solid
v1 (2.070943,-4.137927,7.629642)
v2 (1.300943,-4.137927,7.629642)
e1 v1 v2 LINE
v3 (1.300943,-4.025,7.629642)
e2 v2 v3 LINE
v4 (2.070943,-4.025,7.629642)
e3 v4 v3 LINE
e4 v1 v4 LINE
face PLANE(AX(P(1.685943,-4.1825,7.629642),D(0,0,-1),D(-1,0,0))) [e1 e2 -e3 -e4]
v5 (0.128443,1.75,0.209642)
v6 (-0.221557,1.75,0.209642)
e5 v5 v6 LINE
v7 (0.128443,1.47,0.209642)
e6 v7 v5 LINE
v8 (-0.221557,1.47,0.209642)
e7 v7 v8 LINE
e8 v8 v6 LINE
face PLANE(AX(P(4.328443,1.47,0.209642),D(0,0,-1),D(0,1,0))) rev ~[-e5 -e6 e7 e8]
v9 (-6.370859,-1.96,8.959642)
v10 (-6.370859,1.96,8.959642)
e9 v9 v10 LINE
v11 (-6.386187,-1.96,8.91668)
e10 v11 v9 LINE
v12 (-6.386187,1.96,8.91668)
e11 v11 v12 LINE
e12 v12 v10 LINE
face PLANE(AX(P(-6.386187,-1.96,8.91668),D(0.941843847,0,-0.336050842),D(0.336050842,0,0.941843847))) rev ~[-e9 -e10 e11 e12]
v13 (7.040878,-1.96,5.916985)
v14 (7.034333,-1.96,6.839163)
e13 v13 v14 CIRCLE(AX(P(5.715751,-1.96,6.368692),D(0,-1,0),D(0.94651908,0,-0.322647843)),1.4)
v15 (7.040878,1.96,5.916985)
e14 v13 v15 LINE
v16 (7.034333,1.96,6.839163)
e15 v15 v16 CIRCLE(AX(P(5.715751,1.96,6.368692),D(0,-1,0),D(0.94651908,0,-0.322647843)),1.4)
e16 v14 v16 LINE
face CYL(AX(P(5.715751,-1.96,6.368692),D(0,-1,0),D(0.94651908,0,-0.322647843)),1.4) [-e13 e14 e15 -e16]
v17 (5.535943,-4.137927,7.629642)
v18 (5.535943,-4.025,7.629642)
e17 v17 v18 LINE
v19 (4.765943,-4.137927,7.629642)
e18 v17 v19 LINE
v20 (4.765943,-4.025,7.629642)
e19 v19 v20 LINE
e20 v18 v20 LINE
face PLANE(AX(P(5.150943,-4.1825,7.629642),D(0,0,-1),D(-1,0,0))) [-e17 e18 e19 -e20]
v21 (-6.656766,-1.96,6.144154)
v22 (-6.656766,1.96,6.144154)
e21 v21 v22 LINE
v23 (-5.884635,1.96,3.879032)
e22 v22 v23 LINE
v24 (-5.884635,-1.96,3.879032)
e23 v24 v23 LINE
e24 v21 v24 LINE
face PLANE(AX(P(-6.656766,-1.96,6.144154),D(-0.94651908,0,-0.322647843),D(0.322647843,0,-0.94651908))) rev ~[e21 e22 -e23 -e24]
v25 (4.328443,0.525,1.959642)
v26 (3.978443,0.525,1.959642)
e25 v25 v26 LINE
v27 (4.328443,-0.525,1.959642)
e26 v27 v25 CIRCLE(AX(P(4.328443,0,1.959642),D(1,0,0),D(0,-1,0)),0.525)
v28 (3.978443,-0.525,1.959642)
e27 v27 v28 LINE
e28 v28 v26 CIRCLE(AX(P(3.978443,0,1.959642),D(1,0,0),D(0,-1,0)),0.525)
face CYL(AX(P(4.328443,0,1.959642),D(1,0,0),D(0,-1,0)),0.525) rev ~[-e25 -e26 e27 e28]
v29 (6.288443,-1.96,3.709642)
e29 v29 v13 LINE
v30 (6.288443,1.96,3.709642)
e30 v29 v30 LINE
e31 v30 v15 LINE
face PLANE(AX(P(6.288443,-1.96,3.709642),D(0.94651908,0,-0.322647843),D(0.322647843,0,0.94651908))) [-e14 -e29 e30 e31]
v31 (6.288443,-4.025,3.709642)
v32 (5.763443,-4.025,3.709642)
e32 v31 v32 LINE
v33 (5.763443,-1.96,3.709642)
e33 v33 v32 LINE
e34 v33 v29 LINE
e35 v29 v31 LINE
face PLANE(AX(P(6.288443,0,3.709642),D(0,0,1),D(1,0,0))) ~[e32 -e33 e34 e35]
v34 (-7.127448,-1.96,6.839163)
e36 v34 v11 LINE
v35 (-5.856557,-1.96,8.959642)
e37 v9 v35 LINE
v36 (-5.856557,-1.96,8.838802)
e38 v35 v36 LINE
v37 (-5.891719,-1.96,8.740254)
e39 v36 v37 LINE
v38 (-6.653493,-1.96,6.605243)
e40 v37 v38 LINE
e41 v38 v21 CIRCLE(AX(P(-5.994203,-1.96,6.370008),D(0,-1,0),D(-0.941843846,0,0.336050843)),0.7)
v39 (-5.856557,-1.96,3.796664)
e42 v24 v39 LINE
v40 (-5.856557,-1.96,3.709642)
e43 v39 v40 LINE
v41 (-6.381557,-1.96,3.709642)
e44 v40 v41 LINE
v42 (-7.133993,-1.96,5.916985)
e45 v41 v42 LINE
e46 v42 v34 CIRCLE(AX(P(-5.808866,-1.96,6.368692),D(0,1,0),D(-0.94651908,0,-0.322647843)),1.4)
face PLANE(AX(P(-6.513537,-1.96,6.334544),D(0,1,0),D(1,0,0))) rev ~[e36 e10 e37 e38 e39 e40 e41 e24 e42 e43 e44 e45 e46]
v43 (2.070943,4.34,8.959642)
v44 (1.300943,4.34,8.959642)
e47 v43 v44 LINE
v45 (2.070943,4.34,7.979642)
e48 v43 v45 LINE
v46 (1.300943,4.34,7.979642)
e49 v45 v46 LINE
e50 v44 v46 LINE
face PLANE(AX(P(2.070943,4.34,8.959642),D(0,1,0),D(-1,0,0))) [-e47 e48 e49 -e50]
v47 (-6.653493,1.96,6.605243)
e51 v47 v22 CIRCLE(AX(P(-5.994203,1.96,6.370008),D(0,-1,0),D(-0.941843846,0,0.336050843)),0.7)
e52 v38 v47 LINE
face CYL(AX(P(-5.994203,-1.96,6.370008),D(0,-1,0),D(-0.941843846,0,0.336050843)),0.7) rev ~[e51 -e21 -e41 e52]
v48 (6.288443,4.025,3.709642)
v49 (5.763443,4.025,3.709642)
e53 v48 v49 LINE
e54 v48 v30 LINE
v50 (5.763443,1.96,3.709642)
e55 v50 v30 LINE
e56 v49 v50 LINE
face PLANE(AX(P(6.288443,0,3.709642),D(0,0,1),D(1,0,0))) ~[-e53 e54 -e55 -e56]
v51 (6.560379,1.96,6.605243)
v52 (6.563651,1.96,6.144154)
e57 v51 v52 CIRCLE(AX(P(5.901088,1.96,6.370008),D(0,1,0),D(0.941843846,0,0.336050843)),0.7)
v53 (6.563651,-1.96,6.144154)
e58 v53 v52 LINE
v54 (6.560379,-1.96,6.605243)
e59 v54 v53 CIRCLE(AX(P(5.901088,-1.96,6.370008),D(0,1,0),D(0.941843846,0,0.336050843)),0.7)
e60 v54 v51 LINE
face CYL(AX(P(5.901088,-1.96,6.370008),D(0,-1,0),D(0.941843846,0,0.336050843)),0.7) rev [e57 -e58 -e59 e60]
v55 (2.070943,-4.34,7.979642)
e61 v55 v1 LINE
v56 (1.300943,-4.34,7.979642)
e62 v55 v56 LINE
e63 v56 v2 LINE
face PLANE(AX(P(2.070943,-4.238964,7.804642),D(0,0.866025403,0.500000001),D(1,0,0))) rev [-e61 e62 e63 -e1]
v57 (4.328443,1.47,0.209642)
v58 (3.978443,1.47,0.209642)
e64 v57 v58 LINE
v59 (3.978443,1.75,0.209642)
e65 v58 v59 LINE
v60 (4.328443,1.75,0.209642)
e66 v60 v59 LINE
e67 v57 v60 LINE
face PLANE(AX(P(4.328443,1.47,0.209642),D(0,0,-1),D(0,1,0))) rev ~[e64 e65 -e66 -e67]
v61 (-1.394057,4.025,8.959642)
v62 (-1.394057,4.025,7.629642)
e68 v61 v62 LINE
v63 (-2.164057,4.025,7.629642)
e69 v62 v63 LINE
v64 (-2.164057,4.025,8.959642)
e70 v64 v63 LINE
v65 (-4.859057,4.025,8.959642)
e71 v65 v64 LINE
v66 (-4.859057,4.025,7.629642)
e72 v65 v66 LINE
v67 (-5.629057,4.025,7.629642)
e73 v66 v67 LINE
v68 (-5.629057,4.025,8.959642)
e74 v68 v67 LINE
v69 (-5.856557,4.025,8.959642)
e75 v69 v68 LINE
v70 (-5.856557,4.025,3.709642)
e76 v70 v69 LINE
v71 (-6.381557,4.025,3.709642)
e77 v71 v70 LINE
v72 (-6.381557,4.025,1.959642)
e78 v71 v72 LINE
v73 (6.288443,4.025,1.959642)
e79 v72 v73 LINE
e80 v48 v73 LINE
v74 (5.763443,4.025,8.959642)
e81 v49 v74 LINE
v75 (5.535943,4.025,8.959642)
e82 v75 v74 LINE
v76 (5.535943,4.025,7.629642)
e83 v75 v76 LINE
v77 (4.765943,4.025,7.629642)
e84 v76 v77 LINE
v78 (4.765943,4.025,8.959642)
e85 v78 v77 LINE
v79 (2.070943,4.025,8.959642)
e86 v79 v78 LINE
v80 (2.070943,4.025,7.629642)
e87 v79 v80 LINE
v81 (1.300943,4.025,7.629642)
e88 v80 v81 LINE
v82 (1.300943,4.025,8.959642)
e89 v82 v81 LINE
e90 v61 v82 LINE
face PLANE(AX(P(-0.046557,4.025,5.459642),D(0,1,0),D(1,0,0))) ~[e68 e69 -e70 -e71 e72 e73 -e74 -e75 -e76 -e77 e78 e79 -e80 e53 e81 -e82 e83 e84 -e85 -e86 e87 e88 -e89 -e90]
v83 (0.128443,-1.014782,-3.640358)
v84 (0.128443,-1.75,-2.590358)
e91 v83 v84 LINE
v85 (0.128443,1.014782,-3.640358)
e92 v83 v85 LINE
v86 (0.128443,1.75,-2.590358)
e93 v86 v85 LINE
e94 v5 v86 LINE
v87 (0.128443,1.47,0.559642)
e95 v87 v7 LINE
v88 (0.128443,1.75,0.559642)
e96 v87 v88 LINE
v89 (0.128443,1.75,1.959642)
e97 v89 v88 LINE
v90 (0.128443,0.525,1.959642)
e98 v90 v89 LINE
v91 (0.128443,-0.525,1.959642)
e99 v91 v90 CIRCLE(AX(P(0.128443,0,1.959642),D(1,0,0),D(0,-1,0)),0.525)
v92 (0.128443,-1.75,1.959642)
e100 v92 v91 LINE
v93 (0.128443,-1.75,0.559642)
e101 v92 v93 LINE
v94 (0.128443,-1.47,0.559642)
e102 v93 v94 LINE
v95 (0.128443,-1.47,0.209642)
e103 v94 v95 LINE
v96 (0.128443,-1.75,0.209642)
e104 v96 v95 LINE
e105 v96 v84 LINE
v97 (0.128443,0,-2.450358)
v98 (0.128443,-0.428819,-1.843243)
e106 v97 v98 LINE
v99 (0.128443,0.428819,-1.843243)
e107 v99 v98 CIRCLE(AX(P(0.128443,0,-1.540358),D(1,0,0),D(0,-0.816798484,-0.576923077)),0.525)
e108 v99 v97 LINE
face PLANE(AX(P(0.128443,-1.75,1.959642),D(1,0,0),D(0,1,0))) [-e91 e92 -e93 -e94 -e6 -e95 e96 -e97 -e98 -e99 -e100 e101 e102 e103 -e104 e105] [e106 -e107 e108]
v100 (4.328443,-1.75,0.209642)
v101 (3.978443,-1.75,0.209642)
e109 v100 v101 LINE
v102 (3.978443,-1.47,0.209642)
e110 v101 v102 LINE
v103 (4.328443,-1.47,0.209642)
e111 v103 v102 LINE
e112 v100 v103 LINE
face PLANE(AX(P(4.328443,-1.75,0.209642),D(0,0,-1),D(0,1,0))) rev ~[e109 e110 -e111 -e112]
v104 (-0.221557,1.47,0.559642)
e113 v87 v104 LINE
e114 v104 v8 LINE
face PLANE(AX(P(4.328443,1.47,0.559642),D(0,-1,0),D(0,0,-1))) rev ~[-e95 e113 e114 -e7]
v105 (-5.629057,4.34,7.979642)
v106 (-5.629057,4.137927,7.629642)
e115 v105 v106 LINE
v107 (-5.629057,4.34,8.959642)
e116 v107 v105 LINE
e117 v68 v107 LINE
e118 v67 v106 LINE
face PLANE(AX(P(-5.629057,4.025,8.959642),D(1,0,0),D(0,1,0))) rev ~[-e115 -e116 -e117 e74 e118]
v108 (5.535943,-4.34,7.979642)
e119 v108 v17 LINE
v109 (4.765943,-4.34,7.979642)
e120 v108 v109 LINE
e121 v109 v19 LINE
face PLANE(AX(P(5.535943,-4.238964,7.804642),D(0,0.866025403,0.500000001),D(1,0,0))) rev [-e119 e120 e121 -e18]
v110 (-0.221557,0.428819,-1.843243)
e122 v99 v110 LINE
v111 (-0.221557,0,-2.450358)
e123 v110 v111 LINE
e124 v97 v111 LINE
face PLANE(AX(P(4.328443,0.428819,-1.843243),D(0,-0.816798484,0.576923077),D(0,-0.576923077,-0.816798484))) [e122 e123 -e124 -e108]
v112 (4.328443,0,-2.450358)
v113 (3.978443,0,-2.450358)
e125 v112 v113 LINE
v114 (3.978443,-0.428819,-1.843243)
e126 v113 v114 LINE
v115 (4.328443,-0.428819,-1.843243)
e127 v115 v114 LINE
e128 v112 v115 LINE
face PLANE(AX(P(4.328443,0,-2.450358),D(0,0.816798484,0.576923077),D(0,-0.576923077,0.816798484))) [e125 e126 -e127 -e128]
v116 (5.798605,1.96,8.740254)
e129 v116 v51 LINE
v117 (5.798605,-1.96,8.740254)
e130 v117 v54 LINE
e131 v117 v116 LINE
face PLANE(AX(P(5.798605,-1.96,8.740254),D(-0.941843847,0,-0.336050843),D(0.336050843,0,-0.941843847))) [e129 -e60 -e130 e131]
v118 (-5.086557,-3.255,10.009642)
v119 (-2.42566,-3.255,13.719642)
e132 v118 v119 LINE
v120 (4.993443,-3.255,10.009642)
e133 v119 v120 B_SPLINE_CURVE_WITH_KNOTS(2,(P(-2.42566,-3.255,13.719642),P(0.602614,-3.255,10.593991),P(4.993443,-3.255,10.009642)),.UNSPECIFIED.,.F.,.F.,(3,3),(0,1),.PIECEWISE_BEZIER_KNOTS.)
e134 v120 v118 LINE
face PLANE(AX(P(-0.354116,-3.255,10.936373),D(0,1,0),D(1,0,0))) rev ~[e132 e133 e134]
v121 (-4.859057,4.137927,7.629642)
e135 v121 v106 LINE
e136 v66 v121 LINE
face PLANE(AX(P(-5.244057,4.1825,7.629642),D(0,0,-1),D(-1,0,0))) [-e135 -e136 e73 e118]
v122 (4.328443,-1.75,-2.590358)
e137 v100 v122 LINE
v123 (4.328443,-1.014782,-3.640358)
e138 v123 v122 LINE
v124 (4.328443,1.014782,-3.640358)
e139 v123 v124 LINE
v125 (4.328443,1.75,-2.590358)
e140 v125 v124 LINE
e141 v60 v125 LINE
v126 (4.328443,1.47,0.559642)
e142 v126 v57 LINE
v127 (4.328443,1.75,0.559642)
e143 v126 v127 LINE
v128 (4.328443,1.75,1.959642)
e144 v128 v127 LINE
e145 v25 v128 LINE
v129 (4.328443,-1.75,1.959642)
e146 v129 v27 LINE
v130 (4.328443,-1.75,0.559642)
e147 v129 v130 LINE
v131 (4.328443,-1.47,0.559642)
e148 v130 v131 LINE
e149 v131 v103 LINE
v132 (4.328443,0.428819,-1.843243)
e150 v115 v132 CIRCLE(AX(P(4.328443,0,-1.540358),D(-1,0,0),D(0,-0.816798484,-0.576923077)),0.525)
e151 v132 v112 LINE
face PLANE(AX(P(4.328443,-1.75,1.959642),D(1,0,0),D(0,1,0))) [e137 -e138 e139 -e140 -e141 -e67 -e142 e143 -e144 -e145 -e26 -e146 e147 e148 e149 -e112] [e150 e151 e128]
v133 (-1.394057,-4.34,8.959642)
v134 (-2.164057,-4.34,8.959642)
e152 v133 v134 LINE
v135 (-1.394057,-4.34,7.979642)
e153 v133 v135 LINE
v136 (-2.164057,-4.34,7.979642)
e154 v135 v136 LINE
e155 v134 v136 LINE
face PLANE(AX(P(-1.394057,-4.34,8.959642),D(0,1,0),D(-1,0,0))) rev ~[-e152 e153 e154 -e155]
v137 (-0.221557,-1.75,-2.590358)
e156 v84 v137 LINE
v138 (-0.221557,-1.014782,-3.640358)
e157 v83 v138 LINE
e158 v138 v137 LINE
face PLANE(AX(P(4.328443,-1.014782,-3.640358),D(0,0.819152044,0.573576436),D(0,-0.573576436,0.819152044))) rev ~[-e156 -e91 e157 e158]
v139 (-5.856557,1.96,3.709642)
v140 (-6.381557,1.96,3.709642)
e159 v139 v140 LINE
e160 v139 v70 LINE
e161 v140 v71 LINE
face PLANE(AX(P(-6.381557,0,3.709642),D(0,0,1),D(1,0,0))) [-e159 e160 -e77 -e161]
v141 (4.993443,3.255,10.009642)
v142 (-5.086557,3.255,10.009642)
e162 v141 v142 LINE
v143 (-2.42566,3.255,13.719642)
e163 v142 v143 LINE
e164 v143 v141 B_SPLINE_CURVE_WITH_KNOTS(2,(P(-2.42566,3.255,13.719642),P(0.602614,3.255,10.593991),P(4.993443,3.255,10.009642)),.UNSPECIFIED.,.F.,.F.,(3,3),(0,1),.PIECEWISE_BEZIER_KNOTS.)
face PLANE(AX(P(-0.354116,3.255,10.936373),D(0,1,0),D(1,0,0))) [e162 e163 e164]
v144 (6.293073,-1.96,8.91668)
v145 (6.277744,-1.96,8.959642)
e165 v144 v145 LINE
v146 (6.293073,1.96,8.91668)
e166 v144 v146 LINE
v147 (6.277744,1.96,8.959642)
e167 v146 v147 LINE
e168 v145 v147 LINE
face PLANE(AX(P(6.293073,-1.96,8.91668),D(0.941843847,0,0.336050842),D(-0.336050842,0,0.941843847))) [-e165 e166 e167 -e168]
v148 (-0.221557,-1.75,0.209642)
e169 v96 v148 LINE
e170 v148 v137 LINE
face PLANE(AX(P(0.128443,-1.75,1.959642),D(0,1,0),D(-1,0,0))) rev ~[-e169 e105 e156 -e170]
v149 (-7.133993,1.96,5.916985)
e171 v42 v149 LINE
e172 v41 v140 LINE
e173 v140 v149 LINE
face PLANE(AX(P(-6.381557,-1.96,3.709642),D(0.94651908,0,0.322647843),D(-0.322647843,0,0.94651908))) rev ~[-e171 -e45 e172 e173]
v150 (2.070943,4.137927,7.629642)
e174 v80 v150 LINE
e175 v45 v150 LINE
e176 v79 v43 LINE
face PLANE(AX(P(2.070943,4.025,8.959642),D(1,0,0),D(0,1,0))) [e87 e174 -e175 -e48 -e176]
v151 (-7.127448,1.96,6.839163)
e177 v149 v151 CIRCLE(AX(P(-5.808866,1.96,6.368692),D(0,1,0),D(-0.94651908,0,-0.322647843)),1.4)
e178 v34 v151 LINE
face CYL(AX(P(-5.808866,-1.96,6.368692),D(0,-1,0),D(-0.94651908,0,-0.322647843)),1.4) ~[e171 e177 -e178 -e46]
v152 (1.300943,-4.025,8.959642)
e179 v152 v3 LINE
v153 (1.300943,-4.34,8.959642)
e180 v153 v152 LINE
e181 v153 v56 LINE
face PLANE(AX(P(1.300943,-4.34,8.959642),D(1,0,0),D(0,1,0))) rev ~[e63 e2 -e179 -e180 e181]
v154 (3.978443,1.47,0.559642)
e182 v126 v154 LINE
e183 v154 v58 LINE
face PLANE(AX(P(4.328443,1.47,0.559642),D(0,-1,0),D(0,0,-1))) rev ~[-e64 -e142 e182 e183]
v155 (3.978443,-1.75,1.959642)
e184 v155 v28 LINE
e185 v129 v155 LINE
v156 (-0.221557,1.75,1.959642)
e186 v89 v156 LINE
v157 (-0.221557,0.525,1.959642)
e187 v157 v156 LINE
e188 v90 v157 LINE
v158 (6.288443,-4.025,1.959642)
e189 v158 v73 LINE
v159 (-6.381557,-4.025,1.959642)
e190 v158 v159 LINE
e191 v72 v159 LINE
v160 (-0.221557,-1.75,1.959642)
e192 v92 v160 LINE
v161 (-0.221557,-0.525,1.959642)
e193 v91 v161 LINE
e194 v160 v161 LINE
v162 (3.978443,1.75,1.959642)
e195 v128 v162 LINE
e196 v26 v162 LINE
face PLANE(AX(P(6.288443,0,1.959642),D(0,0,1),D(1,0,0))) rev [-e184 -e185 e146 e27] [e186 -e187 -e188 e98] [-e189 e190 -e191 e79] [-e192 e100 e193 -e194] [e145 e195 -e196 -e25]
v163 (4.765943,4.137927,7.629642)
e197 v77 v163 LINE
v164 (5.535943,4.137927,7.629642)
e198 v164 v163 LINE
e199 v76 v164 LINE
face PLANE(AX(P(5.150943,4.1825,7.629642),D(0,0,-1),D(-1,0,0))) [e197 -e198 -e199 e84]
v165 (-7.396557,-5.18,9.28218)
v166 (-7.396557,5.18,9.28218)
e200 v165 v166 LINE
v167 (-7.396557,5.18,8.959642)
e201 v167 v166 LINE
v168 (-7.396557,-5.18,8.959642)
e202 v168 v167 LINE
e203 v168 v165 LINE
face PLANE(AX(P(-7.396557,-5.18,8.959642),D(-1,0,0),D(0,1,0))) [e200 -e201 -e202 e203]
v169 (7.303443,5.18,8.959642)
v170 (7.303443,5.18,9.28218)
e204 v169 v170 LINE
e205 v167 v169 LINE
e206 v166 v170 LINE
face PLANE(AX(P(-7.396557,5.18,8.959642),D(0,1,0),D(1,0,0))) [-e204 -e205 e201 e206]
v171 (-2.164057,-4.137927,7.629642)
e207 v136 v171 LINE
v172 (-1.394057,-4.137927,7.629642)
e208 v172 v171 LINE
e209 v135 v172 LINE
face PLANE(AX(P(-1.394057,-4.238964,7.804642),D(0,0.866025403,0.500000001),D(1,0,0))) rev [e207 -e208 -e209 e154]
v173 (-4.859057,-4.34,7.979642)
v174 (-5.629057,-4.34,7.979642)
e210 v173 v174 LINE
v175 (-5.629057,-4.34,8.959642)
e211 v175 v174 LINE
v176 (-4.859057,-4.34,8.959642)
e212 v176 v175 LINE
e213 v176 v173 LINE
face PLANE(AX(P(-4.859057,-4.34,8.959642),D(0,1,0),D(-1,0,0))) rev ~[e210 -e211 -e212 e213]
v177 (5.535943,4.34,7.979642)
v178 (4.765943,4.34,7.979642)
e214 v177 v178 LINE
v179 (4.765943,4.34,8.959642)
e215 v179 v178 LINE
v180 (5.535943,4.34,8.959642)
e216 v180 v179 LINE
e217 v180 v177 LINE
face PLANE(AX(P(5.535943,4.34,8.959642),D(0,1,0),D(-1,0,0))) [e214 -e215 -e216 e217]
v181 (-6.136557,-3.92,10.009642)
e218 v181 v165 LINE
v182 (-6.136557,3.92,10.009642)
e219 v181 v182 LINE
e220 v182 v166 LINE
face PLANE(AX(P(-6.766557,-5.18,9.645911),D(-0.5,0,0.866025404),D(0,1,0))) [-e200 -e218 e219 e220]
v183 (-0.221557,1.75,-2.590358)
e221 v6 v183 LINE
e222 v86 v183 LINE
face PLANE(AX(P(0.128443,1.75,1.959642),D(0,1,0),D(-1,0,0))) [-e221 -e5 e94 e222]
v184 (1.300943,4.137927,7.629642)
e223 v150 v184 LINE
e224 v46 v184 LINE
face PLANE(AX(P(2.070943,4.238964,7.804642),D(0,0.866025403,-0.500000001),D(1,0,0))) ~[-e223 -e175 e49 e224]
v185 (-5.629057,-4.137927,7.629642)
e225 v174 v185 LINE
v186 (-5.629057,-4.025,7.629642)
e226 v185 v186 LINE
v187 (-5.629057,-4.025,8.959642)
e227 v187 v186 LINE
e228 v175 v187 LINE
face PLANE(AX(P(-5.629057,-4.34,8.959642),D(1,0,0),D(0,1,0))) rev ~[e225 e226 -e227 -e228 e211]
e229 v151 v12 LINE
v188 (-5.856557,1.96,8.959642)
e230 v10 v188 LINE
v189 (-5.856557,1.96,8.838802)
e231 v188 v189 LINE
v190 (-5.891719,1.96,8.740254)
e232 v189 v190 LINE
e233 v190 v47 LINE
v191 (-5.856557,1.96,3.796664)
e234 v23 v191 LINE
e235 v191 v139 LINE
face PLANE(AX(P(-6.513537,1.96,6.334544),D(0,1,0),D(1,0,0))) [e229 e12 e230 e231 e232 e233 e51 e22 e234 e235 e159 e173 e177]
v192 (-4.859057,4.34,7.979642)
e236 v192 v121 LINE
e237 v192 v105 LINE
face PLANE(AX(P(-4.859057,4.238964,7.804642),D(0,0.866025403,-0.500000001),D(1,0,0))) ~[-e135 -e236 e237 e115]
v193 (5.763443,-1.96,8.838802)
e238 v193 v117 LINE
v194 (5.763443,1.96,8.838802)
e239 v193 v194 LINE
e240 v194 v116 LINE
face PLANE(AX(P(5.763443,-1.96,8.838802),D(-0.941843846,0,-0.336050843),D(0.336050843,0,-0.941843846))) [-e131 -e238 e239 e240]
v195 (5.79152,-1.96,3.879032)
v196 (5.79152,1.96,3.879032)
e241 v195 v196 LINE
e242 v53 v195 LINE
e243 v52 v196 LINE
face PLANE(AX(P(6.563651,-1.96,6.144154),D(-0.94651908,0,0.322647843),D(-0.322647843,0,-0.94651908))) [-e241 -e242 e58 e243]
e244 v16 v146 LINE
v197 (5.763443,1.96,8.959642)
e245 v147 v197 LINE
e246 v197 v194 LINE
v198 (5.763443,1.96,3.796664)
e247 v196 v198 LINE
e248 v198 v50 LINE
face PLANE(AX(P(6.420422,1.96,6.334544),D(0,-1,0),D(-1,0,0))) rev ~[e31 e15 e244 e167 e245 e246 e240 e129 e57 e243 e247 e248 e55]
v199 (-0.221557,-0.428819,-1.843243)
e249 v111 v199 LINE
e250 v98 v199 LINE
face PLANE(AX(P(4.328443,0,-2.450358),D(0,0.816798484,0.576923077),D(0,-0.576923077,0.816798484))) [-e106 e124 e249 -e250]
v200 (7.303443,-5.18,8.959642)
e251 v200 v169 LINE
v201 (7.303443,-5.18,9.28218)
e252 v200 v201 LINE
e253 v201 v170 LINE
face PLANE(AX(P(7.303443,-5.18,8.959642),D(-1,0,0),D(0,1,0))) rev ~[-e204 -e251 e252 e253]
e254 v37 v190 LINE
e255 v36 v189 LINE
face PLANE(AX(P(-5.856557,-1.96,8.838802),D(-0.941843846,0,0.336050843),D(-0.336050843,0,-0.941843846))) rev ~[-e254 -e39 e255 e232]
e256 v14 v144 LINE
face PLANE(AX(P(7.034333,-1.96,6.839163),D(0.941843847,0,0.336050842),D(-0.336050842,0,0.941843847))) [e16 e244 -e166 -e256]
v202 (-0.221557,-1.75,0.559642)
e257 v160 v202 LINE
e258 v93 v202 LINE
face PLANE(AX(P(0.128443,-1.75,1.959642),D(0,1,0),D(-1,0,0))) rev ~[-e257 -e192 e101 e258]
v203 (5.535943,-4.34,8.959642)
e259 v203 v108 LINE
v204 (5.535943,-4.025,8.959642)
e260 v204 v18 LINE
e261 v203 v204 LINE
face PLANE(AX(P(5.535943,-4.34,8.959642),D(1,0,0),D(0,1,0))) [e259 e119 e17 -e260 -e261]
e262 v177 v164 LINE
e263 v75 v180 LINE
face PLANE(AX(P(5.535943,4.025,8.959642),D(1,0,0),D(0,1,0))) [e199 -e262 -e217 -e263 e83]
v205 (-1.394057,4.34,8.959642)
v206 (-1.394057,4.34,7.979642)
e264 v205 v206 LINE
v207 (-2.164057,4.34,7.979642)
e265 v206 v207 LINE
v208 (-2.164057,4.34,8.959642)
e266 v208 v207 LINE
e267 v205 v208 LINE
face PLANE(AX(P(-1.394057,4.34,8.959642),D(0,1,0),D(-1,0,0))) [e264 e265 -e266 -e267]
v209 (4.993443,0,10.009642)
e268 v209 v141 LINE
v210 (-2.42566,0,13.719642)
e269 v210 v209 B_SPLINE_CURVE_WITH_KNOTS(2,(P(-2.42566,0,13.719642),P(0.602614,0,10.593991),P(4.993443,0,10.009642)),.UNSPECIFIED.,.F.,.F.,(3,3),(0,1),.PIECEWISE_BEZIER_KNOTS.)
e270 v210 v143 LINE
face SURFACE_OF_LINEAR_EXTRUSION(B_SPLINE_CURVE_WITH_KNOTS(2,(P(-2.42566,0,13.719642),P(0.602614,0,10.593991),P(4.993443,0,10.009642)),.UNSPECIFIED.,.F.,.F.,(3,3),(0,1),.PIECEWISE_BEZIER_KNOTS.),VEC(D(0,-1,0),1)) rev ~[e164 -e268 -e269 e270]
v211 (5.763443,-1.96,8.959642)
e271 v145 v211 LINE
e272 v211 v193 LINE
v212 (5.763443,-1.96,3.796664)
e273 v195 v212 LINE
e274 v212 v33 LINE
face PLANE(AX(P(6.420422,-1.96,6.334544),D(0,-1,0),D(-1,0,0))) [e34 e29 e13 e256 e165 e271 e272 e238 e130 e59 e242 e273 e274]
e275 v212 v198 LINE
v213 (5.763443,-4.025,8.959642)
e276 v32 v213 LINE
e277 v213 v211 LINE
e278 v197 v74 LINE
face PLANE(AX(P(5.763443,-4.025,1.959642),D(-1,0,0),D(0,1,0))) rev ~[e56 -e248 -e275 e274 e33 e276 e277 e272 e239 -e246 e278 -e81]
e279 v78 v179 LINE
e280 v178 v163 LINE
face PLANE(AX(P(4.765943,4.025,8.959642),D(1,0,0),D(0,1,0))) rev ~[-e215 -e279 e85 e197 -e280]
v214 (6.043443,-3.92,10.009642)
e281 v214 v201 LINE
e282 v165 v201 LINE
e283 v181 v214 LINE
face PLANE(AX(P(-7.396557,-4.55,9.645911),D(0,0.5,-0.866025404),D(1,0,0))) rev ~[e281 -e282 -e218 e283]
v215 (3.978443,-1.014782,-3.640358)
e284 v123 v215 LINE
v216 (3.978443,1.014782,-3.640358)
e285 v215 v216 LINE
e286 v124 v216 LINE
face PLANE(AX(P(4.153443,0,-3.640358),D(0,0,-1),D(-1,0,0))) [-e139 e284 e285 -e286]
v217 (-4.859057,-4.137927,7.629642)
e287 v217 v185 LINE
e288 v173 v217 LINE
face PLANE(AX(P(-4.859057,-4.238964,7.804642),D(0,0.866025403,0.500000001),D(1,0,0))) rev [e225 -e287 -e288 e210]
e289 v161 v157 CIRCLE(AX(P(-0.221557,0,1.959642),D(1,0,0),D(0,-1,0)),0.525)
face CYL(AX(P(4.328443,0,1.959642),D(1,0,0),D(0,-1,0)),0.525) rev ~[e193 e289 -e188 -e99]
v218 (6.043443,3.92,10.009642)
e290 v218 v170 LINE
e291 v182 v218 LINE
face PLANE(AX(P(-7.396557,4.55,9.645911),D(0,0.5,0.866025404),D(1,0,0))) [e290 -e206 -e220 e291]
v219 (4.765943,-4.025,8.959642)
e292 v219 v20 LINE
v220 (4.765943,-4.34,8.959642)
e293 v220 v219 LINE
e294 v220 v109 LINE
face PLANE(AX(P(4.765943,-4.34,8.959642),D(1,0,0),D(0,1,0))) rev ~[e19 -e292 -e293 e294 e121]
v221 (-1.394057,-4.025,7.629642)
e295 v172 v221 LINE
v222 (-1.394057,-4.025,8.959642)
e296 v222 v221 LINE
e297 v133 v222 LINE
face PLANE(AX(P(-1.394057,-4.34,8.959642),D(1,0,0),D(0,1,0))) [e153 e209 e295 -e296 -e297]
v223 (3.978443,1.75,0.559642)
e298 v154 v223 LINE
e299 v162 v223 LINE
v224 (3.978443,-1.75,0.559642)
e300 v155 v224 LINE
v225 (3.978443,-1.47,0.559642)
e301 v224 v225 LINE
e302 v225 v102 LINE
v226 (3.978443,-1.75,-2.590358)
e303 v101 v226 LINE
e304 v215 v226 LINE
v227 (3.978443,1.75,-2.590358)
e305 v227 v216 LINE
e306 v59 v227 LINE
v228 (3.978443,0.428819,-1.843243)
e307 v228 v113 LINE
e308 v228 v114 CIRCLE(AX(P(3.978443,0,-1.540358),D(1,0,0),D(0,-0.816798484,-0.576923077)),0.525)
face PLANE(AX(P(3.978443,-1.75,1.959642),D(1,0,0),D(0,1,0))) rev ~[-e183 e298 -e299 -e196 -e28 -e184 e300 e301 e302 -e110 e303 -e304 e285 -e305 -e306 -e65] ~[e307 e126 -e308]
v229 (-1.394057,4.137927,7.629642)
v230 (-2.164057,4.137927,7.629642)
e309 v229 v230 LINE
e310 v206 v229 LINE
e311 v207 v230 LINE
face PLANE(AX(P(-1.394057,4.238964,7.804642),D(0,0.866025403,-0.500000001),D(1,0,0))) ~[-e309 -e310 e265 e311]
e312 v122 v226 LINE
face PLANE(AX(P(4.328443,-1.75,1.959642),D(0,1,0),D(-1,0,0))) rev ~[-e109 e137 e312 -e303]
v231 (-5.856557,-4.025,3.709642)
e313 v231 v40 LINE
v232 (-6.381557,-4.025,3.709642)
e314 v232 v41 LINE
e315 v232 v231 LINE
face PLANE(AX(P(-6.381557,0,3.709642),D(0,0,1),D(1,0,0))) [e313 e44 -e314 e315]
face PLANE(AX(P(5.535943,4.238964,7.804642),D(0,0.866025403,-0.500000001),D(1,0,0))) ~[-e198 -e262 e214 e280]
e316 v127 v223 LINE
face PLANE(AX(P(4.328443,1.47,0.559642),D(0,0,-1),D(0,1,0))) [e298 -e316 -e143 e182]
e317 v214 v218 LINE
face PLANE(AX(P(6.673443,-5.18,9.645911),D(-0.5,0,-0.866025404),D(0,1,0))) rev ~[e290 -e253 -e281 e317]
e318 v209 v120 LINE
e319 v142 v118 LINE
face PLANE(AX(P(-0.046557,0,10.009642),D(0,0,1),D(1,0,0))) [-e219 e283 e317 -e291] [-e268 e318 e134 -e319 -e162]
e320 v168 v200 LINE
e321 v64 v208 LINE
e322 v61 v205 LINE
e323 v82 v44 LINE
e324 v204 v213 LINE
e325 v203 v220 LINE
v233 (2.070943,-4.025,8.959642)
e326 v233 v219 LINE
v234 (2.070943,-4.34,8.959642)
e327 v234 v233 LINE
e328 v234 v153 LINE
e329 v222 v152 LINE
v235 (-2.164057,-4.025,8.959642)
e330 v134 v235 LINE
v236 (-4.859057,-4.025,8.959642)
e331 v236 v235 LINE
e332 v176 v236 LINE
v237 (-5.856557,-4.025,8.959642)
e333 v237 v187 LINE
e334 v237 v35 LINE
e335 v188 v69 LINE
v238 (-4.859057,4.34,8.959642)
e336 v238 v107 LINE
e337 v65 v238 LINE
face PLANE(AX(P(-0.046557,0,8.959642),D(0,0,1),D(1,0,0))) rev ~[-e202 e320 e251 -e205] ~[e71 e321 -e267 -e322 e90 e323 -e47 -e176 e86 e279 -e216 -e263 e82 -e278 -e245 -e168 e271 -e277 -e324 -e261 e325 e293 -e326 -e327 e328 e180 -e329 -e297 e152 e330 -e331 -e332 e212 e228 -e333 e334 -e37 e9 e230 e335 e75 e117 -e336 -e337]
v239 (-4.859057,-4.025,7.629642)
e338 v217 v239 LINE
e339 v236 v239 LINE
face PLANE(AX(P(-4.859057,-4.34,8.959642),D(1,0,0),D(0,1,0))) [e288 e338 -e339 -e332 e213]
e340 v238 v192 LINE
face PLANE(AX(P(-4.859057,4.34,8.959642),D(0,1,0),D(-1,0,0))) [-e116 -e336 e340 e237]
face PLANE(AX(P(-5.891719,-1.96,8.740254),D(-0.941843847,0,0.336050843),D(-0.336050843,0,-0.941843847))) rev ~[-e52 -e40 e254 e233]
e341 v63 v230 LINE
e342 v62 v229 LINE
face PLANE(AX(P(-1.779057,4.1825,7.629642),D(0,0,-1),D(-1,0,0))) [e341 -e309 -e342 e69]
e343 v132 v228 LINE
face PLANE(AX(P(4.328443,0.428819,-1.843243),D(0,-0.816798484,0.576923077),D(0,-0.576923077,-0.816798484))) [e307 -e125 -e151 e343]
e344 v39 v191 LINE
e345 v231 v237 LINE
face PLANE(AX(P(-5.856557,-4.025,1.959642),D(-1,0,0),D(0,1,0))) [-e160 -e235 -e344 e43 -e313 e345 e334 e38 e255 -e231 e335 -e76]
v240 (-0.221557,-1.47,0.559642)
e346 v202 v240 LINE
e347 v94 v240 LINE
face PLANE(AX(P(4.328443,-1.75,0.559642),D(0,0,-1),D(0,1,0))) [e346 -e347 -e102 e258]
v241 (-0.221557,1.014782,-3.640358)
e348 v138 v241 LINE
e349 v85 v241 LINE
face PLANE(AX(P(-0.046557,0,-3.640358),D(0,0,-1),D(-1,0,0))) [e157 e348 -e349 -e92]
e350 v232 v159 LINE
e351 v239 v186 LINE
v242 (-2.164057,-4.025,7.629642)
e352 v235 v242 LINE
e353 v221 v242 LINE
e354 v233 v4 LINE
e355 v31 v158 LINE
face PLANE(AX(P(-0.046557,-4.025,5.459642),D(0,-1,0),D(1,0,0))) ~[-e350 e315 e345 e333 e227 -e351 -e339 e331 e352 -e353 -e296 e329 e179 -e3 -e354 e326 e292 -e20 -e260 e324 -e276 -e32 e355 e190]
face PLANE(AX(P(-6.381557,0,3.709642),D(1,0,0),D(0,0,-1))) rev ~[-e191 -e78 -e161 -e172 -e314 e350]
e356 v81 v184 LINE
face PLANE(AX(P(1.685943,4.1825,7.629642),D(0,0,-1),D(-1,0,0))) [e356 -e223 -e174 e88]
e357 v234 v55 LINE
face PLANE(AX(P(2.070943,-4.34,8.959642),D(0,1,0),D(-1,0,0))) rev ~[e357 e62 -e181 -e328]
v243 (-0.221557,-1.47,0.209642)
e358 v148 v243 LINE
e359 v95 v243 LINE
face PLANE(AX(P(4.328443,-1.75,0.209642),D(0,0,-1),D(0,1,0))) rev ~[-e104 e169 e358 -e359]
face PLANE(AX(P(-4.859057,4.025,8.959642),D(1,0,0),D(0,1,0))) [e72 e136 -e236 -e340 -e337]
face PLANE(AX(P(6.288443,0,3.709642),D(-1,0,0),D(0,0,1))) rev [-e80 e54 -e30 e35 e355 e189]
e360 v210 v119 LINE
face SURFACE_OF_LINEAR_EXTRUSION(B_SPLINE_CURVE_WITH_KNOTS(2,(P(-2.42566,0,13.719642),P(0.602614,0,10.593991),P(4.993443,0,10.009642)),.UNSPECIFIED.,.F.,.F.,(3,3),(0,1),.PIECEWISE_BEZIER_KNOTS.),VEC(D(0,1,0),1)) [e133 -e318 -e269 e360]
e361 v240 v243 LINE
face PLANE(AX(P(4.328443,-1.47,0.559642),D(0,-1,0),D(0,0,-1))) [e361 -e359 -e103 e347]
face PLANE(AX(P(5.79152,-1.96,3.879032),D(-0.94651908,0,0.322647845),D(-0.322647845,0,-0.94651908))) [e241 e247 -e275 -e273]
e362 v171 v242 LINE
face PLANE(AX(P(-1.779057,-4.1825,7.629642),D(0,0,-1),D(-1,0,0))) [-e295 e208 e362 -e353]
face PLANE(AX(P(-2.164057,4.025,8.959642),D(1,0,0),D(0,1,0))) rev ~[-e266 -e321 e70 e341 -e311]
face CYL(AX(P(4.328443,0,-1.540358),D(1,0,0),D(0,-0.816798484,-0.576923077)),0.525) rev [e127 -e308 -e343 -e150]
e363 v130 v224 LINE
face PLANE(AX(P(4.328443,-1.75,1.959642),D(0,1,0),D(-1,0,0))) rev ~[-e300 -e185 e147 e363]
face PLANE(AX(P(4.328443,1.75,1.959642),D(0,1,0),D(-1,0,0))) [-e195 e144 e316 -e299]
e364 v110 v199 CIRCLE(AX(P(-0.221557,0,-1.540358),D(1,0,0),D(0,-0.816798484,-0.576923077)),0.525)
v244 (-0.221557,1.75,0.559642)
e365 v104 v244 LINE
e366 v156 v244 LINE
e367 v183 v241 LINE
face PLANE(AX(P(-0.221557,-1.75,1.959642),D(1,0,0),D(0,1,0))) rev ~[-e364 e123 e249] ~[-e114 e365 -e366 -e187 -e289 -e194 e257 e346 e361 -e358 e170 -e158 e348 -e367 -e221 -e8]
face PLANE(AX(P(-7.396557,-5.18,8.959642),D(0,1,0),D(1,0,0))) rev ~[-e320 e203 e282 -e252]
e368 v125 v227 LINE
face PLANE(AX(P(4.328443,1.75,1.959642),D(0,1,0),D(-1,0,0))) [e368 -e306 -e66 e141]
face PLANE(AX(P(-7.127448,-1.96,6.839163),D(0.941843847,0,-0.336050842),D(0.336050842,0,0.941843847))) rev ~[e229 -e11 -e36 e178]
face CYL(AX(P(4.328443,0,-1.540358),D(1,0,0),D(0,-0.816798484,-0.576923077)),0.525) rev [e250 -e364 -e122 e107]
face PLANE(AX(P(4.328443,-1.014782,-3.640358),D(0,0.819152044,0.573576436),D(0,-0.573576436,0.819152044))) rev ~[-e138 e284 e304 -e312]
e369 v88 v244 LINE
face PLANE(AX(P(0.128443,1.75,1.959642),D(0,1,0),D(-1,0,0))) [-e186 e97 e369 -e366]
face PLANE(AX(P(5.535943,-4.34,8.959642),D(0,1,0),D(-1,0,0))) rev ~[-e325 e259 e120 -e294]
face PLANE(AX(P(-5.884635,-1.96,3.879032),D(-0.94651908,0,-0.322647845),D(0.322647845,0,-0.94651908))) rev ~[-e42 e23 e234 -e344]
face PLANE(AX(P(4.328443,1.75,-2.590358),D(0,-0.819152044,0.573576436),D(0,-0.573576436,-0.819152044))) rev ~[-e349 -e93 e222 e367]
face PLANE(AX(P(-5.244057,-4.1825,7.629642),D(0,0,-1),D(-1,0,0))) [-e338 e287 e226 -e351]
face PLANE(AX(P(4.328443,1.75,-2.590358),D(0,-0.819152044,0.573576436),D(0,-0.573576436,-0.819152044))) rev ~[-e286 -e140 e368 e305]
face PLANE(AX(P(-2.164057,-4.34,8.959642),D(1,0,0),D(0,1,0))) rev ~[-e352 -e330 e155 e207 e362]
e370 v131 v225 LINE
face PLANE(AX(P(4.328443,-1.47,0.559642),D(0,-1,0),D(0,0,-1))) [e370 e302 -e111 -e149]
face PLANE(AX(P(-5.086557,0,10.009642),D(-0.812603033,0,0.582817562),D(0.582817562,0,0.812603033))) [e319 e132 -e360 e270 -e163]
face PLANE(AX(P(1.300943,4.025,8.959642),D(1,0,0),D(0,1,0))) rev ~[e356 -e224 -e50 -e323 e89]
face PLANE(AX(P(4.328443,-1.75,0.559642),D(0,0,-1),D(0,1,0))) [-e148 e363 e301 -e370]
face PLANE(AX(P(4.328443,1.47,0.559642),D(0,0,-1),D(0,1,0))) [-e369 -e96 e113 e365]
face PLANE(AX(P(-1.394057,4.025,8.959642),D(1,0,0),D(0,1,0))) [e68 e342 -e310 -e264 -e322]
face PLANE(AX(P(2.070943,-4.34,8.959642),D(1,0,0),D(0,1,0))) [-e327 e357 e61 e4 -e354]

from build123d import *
from OCP.BRepFilletAPI import BRepFilletAPI_MakeChamfer

# Parameters (mm, degrees)
SKETCH1_W                       = 16.6
SKETCH1_H                       = 11.5
BOSS_EXTRUDE1_DEPTH             = 10
SKETCH2_W                       = 21
SKETCH2_H                       = 14.8
BOSS_EXTRUDE2_DEPTH             = 1.5
SKETCH3_W                       = 0.5
SKETCH3_H                       = 5
BOSS_EXTRUDE3_DEPTH             = 8
SKETCH4_W                       = 0.5
SKETCH4_H                       = 0.4
CUT_EXTRUDE1_DEPTH              = 22.623424798
BOSS_EXTRUDE4_REACH             = 19.241
SKETCH5_W                       = 0.75
SKETCH5_H                       = 2.5
BOSS_EXTRUDE4_DIRECTION_2_REACH = 19.241
BOSS_EXTRUDE5_DEPTH             = 2.8
BOSS_EXTRUDE5_DEPTH_BACK        = 2.8
CHAMFER1_SIZE                   = 1.8
CHAMFER1_SIZE2                  = 1.039230485
BOSS_EXTRUDE6_DEPTH             = 4.65
SKETCH9_W                       = 1.1
SKETCH9_H                       = 0.45
BOSS_EXTRUDE7_DEPTH             = 1.9
CHAMFER2_SIZE                   = 0.5
CHAMFER2_SIZE2                  = 0.288675135
SCALE2_SCALE                    = 0.7


with BuildPart() as part:
    # Sketch1 → Boss-Extrude1 (new body)
    with BuildSketch(Plane.XY):
        Rectangle(SKETCH1_W, SKETCH1_H)
    extrude(amount=BOSS_EXTRUDE1_DEPTH)

    # Sketch2 → Boss-Extrude2 (add)
    with BuildSketch(Plane.XY.offset(10)):
        Rectangle(SKETCH2_W, SKETCH2_H)
    extrude(amount=BOSS_EXTRUDE2_DEPTH)

    # Sketch3 → Boss-Extrude3 (add)
    with BuildSketch(Plane(origin=(0, 0, 0), x_dir=(-1, 0, 0), z_dir=(0, 0, -1))):
        with Locations((-6, 0)):
            Rectangle(SKETCH3_W, SKETCH3_H)
        Rectangle(SKETCH3_W, SKETCH3_H)
    extrude(amount=BOSS_EXTRUDE3_DEPTH)

    # Sketch4 → Cut-Extrude1 (cut, through all)
    with BuildSketch(Plane(origin=(6.25, 0, 0), x_dir=(0, 0, -1), z_dir=(1, 0, 0))):
        with Locations((2.25, 2.3)):
            Rectangle(SKETCH4_W, SKETCH4_H)
        with BuildLine():
            Line((0, 0.75), (0, -0.75))
            ThreePointArc((0, -0.75), (0.75, 0), (0, 0.75))
        make_face()
        Polygon((6.5, 2.5), (8, 1.449688693), (8, 2.5), align=None)
        with BuildLine():
            Line((5.432692308, 0.612598863), (6.3, 0))
            Line((6.3, 0), (5.432692308, -0.612598863))
            ThreePointArc((5.432692308, -0.612598863), (4.25, 0), (5.432692308, 0.612598863))
        make_face()
        Polygon((8, -2.5), (8, -1.449688693), (6.5, -2.5), align=None)
        with Locations((2.25, -2.3)):
            Rectangle(SKETCH4_W, SKETCH4_H)
    extrude(amount=-CUT_EXTRUDE1_DEPTH, mode=Mode.SUBTRACT)

    # Boss-Extrude4: up to this face of the body (flat: up to its plane)
    boss_extrude4_end = Plane(part.part.faces().sort_by_distance((0, 5.75, 5))[0])
    # Sketch5 → Boss-Extrude4 (add, up to the picked face)
    with BuildSketch(Plane(origin=(0, 0, 0), x_dir=(1, 0, 0), z_dir=(0, 1, 0)), mode=Mode.PRIVATE) as boss_extrude4_sk1:
        with Locations((-8.675, -1.25)):
            Rectangle(SKETCH5_W, SKETCH5_H)
    boss_extrude4_tool1 = split(extrude(boss_extrude4_sk1.sketch, amount=BOSS_EXTRUDE4_REACH, mode=Mode.PRIVATE), bisect_by=boss_extrude4_end, keep=Keep.BOTH, mode=Mode.PRIVATE)
    boss_extrude4 = boss_extrude4_tool1.solids().sort_by(Axis((-8.675, 0, 1.25), (0, 1, 0)))[0]
    add(boss_extrude4)

    # Boss-Extrude4 direction 2: up to this face of the body (flat: up to its plane)
    boss_extrude4_direction_2_end = Plane(part.part.faces().sort_by_distance((0, -5.75, 5))[0])
    # Sketch5 → Boss-Extrude4 direction 2 (add, up to the picked face)
    with BuildSketch(Plane(origin=(0, 0, 0), x_dir=(1, 0, 0), z_dir=(0, 1, 0)), mode=Mode.PRIVATE) as boss_extrude4_direction_2_sk1:
        with Locations((-8.675, -1.25)):
            Rectangle(SKETCH5_W, SKETCH5_H)
    boss_extrude4_direction_2_tool1 = split(extrude(boss_extrude4_direction_2_sk1.sketch, amount=-BOSS_EXTRUDE4_DIRECTION_2_REACH, mode=Mode.PRIVATE), bisect_by=boss_extrude4_direction_2_end, keep=Keep.BOTH, mode=Mode.PRIVATE)
    boss_extrude4_direction_2 = boss_extrude4_direction_2_tool1.solids().sort_by(Axis((-8.675, 0, 1.25), (0, -1, 0)))[0]
    add(boss_extrude4_direction_2)

    # Mirror1: Boss-Extrude4, Boss-Extrude4 direction 2 across plane
    add(boss_extrude4.mirror(Plane(origin=(0, 0, 0), x_dir=(0, 0, 1), z_dir=(1, 0, 0))))
    add(boss_extrude4_direction_2.mirror(Plane(origin=(0, 0, 0), x_dir=(0, 0, 1), z_dir=(1, 0, 0))))

    # Sketch6 → Boss-Extrude5 (add, two sides: drawn at the far end of the back side and taken through both)
    with BuildSketch(Plane(origin=(0, 0, 0), x_dir=(1, 0, 0), z_dir=(0, 1, 0)).offset(-BOSS_EXTRUDE5_DEPTH_BACK)):
        with BuildLine():
            Line((-9.05, -2.5), (-10.124907983, -5.653347952))
            ThreePointArc((-10.124907983, -5.653347952), (-10.231819447, -6.312838644), (-10.115557515, -6.970745323))
            Line((-10.115557515, -6.970745323), (-9.056614332, -9.938626949))
            Line((-9.056614332, -9.938626949), (-9.034716365, -10))
            Line((-9.034716365, -10), (-8.3, -10))
            Line((-8.3, -10), (-8.3, -9.827371619))
            Line((-8.3, -9.827371619), (-8.350231447, -9.686588817))
            Line((-8.350231447, -9.686588817), (-9.438479941, -6.636573707))
            ThreePointArc((-9.438479941, -6.636573707), (-9.496610907, -6.307620368), (-9.443155175, -5.977875022))
            Line((-9.443155175, -5.977875022), (-8.34011069, -2.741985882))
            Line((-8.34011069, -2.741985882), (-8.3, -2.624317241))
            Line((-8.3, -2.624317241), (-8.3, -2.5))
            Line((-8.3, -2.5), (-9.05, -2.5))
        make_face()
        with BuildLine():
            Line((8.3, -9.827371619), (8.350231447, -9.686588817))
            Line((8.350231447, -9.686588817), (9.438479941, -6.636573707))
            ThreePointArc((9.438479941, -6.636573707), (9.496610907, -6.307620368), (9.443155175, -5.977875022))
            Line((9.443155175, -5.977875022), (8.34011069, -2.741985882))
            Line((8.34011069, -2.741985882), (8.3, -2.624317241))
            Line((8.3, -2.624317241), (8.3, -2.5))
            Line((8.3, -2.5), (9.05, -2.5))
            Line((9.05, -2.5), (10.124907983, -5.653347952))
            ThreePointArc((10.124907983, -5.653347952), (10.231819447, -6.312838644), (10.115557515, -6.970745323))
            Line((10.115557515, -6.970745323), (9.056614332, -9.938626949))
            Line((9.056614332, -9.938626949), (9.034716365, -10))
            Line((9.034716365, -10), (8.3, -10))
            Line((8.3, -10), (8.3, -9.827371619))
        make_face()
    extrude(amount=BOSS_EXTRUDE5_DEPTH + BOSS_EXTRUDE5_DEPTH_BACK)

    # Chamfer1
    chamfer1_edges = [part.edges().sort_by_distance(p)[0] for p in [
        (10.5, 0, 11.5),
        (0, 7.4, 11.5),
        (-10.5, 0, 11.5),
        (0, -7.4, 11.5),
    ]]
    chamfer1_side = [part.faces().sort_by_distance(p)[0] for p in [
        (0, 0, 11.5),
    ]]
    chamfer(chamfer1_edges, length=CHAMFER1_SIZE, length2=CHAMFER1_SIZE2, reference=chamfer1_side[0])

    # Sketch7 → Boss-Extrude6 (add, symmetric)
    with BuildSketch(Plane(origin=(0, 0, 0), x_dir=(1, 0, 0), z_dir=(0, 1, 0))):
        with BuildLine():
            Line((-7.2, -11.5), (-3.398718251, -16.8))
            add(Edge.make_bspline(
                [(-3.398718251, -16.8), (0.927387699, -12.334784825), (7.2, -11.5)],
                knots=[0, 0, 0, 1, 1, 1], degree=2))
            Line((7.2, -11.5), (-7.2, -11.5))
        make_face()
    extrude(amount=BOSS_EXTRUDE6_DEPTH, both=True)

    # Sketch9 → Boss-Extrude7 (add)
    with BuildSketch(Plane(origin=(0, 0, 10), x_dir=(-1, 0, 0), z_dir=(0, 0, -1))):
        with Locations((-7.425, 5.975)):
            Rectangle(SKETCH9_W, SKETCH9_H)
        with Locations((-2.475, 5.975)):
            Rectangle(SKETCH9_W, SKETCH9_H)
        with Locations((2.475, 5.975)):
            Rectangle(SKETCH9_W, SKETCH9_H)
        with Locations((7.425, 5.975)):
            Rectangle(SKETCH9_W, SKETCH9_H)
        with Locations((7.425, -5.975)):
            Rectangle(SKETCH9_W, SKETCH9_H)
        with Locations((2.475, -5.975)):
            Rectangle(SKETCH9_W, SKETCH9_H)
        with Locations((-2.475, -5.975)):
            Rectangle(SKETCH9_W, SKETCH9_H)
        with Locations((-7.425, -5.975)):
            Rectangle(SKETCH9_W, SKETCH9_H)
    extrude(amount=BOSS_EXTRUDE7_DEPTH)

    # Chamfer2: one chamfer whose edges measure the first distance from different faces: ONE call of the kernel's chamfer builder (chamfer() names one face for all edges)
    chamfer2_edges_1 = [part.edges().sort_by_distance(p)[0] for p in [
        (7.425, 6.2, 8.1),
    ]]
    chamfer2_side_1 = [part.faces().sort_by_distance(p)[0] for p in [
        (7.425, 6.2, 9.05),
    ]]
    chamfer2_edges_2 = [part.edges().sort_by_distance(p)[0] for p in [
        (2.475, 6.2, 8.1),
    ]]
    chamfer2_side_2 = [part.faces().sort_by_distance(p)[0] for p in [
        (2.475, 6.2, 9.05),
    ]]
    chamfer2_edges_3 = [part.edges().sort_by_distance(p)[0] for p in [
        (-2.475, 6.2, 8.1),
    ]]
    chamfer2_side_3 = [part.faces().sort_by_distance(p)[0] for p in [
        (-2.475, 6.2, 9.05),
    ]]
    chamfer2_edges_4 = [part.edges().sort_by_distance(p)[0] for p in [
        (-7.425, 6.2, 8.1),
    ]]
    chamfer2_side_4 = [part.faces().sort_by_distance(p)[0] for p in [
        (-7.425, 6.2, 9.05),
    ]]
    chamfer2_edges_5 = [part.edges().sort_by_distance(p)[0] for p in [
        (-7.425, -6.2, 8.1),
    ]]
    chamfer2_side_5 = [part.faces().sort_by_distance(p)[0] for p in [
        (-7.425, -6.2, 9.05),
    ]]
    chamfer2_edges_6 = [part.edges().sort_by_distance(p)[0] for p in [
        (-2.475, -6.2, 8.1),
    ]]
    chamfer2_side_6 = [part.faces().sort_by_distance(p)[0] for p in [
        (-2.475, -6.2, 9.05),
    ]]
    chamfer2_edges_7 = [part.edges().sort_by_distance(p)[0] for p in [
        (2.475, -6.2, 8.1),
    ]]
    chamfer2_side_7 = [part.faces().sort_by_distance(p)[0] for p in [
        (2.475, -6.2, 9.05),
    ]]
    chamfer2_edges_8 = [part.edges().sort_by_distance(p)[0] for p in [
        (7.425, -6.2, 8.1),
    ]]
    chamfer2_side_8 = [part.faces().sort_by_distance(p)[0] for p in [
        (7.425, -6.2, 9.05),
    ]]
    chamfer2 = BRepFilletAPI_MakeChamfer(part.part.solid().wrapped)
    for e in chamfer2_edges_1:
        chamfer2.Add(CHAMFER2_SIZE, CHAMFER2_SIZE2, e.wrapped, chamfer2_side_1[0].wrapped)  # the first distance lies on this face
    for e in chamfer2_edges_2:
        chamfer2.Add(CHAMFER2_SIZE, CHAMFER2_SIZE2, e.wrapped, chamfer2_side_2[0].wrapped)  # the first distance lies on this face
    for e in chamfer2_edges_3:
        chamfer2.Add(CHAMFER2_SIZE, CHAMFER2_SIZE2, e.wrapped, chamfer2_side_3[0].wrapped)  # the first distance lies on this face
    for e in chamfer2_edges_4:
        chamfer2.Add(CHAMFER2_SIZE, CHAMFER2_SIZE2, e.wrapped, chamfer2_side_4[0].wrapped)  # the first distance lies on this face
    for e in chamfer2_edges_5:
        chamfer2.Add(CHAMFER2_SIZE, CHAMFER2_SIZE2, e.wrapped, chamfer2_side_5[0].wrapped)  # the first distance lies on this face
    for e in chamfer2_edges_6:
        chamfer2.Add(CHAMFER2_SIZE, CHAMFER2_SIZE2, e.wrapped, chamfer2_side_6[0].wrapped)  # the first distance lies on this face
    for e in chamfer2_edges_7:
        chamfer2.Add(CHAMFER2_SIZE, CHAMFER2_SIZE2, e.wrapped, chamfer2_side_7[0].wrapped)  # the first distance lies on this face
    for e in chamfer2_edges_8:
        chamfer2.Add(CHAMFER2_SIZE, CHAMFER2_SIZE2, e.wrapped, chamfer2_side_8[0].wrapped)  # the first distance lies on this face
    add(Compound.cast(chamfer2.Shape()), mode=Mode.REPLACE)


with BuildPart() as part_1:
    # Scale2: scaled about (-0.155191281, 0, 6.532138607)
    add(part.part.scale(SCALE2_SCALE).moved(Location((-0.046557384, 0, 1.959641582))))


solid = part_1.part
